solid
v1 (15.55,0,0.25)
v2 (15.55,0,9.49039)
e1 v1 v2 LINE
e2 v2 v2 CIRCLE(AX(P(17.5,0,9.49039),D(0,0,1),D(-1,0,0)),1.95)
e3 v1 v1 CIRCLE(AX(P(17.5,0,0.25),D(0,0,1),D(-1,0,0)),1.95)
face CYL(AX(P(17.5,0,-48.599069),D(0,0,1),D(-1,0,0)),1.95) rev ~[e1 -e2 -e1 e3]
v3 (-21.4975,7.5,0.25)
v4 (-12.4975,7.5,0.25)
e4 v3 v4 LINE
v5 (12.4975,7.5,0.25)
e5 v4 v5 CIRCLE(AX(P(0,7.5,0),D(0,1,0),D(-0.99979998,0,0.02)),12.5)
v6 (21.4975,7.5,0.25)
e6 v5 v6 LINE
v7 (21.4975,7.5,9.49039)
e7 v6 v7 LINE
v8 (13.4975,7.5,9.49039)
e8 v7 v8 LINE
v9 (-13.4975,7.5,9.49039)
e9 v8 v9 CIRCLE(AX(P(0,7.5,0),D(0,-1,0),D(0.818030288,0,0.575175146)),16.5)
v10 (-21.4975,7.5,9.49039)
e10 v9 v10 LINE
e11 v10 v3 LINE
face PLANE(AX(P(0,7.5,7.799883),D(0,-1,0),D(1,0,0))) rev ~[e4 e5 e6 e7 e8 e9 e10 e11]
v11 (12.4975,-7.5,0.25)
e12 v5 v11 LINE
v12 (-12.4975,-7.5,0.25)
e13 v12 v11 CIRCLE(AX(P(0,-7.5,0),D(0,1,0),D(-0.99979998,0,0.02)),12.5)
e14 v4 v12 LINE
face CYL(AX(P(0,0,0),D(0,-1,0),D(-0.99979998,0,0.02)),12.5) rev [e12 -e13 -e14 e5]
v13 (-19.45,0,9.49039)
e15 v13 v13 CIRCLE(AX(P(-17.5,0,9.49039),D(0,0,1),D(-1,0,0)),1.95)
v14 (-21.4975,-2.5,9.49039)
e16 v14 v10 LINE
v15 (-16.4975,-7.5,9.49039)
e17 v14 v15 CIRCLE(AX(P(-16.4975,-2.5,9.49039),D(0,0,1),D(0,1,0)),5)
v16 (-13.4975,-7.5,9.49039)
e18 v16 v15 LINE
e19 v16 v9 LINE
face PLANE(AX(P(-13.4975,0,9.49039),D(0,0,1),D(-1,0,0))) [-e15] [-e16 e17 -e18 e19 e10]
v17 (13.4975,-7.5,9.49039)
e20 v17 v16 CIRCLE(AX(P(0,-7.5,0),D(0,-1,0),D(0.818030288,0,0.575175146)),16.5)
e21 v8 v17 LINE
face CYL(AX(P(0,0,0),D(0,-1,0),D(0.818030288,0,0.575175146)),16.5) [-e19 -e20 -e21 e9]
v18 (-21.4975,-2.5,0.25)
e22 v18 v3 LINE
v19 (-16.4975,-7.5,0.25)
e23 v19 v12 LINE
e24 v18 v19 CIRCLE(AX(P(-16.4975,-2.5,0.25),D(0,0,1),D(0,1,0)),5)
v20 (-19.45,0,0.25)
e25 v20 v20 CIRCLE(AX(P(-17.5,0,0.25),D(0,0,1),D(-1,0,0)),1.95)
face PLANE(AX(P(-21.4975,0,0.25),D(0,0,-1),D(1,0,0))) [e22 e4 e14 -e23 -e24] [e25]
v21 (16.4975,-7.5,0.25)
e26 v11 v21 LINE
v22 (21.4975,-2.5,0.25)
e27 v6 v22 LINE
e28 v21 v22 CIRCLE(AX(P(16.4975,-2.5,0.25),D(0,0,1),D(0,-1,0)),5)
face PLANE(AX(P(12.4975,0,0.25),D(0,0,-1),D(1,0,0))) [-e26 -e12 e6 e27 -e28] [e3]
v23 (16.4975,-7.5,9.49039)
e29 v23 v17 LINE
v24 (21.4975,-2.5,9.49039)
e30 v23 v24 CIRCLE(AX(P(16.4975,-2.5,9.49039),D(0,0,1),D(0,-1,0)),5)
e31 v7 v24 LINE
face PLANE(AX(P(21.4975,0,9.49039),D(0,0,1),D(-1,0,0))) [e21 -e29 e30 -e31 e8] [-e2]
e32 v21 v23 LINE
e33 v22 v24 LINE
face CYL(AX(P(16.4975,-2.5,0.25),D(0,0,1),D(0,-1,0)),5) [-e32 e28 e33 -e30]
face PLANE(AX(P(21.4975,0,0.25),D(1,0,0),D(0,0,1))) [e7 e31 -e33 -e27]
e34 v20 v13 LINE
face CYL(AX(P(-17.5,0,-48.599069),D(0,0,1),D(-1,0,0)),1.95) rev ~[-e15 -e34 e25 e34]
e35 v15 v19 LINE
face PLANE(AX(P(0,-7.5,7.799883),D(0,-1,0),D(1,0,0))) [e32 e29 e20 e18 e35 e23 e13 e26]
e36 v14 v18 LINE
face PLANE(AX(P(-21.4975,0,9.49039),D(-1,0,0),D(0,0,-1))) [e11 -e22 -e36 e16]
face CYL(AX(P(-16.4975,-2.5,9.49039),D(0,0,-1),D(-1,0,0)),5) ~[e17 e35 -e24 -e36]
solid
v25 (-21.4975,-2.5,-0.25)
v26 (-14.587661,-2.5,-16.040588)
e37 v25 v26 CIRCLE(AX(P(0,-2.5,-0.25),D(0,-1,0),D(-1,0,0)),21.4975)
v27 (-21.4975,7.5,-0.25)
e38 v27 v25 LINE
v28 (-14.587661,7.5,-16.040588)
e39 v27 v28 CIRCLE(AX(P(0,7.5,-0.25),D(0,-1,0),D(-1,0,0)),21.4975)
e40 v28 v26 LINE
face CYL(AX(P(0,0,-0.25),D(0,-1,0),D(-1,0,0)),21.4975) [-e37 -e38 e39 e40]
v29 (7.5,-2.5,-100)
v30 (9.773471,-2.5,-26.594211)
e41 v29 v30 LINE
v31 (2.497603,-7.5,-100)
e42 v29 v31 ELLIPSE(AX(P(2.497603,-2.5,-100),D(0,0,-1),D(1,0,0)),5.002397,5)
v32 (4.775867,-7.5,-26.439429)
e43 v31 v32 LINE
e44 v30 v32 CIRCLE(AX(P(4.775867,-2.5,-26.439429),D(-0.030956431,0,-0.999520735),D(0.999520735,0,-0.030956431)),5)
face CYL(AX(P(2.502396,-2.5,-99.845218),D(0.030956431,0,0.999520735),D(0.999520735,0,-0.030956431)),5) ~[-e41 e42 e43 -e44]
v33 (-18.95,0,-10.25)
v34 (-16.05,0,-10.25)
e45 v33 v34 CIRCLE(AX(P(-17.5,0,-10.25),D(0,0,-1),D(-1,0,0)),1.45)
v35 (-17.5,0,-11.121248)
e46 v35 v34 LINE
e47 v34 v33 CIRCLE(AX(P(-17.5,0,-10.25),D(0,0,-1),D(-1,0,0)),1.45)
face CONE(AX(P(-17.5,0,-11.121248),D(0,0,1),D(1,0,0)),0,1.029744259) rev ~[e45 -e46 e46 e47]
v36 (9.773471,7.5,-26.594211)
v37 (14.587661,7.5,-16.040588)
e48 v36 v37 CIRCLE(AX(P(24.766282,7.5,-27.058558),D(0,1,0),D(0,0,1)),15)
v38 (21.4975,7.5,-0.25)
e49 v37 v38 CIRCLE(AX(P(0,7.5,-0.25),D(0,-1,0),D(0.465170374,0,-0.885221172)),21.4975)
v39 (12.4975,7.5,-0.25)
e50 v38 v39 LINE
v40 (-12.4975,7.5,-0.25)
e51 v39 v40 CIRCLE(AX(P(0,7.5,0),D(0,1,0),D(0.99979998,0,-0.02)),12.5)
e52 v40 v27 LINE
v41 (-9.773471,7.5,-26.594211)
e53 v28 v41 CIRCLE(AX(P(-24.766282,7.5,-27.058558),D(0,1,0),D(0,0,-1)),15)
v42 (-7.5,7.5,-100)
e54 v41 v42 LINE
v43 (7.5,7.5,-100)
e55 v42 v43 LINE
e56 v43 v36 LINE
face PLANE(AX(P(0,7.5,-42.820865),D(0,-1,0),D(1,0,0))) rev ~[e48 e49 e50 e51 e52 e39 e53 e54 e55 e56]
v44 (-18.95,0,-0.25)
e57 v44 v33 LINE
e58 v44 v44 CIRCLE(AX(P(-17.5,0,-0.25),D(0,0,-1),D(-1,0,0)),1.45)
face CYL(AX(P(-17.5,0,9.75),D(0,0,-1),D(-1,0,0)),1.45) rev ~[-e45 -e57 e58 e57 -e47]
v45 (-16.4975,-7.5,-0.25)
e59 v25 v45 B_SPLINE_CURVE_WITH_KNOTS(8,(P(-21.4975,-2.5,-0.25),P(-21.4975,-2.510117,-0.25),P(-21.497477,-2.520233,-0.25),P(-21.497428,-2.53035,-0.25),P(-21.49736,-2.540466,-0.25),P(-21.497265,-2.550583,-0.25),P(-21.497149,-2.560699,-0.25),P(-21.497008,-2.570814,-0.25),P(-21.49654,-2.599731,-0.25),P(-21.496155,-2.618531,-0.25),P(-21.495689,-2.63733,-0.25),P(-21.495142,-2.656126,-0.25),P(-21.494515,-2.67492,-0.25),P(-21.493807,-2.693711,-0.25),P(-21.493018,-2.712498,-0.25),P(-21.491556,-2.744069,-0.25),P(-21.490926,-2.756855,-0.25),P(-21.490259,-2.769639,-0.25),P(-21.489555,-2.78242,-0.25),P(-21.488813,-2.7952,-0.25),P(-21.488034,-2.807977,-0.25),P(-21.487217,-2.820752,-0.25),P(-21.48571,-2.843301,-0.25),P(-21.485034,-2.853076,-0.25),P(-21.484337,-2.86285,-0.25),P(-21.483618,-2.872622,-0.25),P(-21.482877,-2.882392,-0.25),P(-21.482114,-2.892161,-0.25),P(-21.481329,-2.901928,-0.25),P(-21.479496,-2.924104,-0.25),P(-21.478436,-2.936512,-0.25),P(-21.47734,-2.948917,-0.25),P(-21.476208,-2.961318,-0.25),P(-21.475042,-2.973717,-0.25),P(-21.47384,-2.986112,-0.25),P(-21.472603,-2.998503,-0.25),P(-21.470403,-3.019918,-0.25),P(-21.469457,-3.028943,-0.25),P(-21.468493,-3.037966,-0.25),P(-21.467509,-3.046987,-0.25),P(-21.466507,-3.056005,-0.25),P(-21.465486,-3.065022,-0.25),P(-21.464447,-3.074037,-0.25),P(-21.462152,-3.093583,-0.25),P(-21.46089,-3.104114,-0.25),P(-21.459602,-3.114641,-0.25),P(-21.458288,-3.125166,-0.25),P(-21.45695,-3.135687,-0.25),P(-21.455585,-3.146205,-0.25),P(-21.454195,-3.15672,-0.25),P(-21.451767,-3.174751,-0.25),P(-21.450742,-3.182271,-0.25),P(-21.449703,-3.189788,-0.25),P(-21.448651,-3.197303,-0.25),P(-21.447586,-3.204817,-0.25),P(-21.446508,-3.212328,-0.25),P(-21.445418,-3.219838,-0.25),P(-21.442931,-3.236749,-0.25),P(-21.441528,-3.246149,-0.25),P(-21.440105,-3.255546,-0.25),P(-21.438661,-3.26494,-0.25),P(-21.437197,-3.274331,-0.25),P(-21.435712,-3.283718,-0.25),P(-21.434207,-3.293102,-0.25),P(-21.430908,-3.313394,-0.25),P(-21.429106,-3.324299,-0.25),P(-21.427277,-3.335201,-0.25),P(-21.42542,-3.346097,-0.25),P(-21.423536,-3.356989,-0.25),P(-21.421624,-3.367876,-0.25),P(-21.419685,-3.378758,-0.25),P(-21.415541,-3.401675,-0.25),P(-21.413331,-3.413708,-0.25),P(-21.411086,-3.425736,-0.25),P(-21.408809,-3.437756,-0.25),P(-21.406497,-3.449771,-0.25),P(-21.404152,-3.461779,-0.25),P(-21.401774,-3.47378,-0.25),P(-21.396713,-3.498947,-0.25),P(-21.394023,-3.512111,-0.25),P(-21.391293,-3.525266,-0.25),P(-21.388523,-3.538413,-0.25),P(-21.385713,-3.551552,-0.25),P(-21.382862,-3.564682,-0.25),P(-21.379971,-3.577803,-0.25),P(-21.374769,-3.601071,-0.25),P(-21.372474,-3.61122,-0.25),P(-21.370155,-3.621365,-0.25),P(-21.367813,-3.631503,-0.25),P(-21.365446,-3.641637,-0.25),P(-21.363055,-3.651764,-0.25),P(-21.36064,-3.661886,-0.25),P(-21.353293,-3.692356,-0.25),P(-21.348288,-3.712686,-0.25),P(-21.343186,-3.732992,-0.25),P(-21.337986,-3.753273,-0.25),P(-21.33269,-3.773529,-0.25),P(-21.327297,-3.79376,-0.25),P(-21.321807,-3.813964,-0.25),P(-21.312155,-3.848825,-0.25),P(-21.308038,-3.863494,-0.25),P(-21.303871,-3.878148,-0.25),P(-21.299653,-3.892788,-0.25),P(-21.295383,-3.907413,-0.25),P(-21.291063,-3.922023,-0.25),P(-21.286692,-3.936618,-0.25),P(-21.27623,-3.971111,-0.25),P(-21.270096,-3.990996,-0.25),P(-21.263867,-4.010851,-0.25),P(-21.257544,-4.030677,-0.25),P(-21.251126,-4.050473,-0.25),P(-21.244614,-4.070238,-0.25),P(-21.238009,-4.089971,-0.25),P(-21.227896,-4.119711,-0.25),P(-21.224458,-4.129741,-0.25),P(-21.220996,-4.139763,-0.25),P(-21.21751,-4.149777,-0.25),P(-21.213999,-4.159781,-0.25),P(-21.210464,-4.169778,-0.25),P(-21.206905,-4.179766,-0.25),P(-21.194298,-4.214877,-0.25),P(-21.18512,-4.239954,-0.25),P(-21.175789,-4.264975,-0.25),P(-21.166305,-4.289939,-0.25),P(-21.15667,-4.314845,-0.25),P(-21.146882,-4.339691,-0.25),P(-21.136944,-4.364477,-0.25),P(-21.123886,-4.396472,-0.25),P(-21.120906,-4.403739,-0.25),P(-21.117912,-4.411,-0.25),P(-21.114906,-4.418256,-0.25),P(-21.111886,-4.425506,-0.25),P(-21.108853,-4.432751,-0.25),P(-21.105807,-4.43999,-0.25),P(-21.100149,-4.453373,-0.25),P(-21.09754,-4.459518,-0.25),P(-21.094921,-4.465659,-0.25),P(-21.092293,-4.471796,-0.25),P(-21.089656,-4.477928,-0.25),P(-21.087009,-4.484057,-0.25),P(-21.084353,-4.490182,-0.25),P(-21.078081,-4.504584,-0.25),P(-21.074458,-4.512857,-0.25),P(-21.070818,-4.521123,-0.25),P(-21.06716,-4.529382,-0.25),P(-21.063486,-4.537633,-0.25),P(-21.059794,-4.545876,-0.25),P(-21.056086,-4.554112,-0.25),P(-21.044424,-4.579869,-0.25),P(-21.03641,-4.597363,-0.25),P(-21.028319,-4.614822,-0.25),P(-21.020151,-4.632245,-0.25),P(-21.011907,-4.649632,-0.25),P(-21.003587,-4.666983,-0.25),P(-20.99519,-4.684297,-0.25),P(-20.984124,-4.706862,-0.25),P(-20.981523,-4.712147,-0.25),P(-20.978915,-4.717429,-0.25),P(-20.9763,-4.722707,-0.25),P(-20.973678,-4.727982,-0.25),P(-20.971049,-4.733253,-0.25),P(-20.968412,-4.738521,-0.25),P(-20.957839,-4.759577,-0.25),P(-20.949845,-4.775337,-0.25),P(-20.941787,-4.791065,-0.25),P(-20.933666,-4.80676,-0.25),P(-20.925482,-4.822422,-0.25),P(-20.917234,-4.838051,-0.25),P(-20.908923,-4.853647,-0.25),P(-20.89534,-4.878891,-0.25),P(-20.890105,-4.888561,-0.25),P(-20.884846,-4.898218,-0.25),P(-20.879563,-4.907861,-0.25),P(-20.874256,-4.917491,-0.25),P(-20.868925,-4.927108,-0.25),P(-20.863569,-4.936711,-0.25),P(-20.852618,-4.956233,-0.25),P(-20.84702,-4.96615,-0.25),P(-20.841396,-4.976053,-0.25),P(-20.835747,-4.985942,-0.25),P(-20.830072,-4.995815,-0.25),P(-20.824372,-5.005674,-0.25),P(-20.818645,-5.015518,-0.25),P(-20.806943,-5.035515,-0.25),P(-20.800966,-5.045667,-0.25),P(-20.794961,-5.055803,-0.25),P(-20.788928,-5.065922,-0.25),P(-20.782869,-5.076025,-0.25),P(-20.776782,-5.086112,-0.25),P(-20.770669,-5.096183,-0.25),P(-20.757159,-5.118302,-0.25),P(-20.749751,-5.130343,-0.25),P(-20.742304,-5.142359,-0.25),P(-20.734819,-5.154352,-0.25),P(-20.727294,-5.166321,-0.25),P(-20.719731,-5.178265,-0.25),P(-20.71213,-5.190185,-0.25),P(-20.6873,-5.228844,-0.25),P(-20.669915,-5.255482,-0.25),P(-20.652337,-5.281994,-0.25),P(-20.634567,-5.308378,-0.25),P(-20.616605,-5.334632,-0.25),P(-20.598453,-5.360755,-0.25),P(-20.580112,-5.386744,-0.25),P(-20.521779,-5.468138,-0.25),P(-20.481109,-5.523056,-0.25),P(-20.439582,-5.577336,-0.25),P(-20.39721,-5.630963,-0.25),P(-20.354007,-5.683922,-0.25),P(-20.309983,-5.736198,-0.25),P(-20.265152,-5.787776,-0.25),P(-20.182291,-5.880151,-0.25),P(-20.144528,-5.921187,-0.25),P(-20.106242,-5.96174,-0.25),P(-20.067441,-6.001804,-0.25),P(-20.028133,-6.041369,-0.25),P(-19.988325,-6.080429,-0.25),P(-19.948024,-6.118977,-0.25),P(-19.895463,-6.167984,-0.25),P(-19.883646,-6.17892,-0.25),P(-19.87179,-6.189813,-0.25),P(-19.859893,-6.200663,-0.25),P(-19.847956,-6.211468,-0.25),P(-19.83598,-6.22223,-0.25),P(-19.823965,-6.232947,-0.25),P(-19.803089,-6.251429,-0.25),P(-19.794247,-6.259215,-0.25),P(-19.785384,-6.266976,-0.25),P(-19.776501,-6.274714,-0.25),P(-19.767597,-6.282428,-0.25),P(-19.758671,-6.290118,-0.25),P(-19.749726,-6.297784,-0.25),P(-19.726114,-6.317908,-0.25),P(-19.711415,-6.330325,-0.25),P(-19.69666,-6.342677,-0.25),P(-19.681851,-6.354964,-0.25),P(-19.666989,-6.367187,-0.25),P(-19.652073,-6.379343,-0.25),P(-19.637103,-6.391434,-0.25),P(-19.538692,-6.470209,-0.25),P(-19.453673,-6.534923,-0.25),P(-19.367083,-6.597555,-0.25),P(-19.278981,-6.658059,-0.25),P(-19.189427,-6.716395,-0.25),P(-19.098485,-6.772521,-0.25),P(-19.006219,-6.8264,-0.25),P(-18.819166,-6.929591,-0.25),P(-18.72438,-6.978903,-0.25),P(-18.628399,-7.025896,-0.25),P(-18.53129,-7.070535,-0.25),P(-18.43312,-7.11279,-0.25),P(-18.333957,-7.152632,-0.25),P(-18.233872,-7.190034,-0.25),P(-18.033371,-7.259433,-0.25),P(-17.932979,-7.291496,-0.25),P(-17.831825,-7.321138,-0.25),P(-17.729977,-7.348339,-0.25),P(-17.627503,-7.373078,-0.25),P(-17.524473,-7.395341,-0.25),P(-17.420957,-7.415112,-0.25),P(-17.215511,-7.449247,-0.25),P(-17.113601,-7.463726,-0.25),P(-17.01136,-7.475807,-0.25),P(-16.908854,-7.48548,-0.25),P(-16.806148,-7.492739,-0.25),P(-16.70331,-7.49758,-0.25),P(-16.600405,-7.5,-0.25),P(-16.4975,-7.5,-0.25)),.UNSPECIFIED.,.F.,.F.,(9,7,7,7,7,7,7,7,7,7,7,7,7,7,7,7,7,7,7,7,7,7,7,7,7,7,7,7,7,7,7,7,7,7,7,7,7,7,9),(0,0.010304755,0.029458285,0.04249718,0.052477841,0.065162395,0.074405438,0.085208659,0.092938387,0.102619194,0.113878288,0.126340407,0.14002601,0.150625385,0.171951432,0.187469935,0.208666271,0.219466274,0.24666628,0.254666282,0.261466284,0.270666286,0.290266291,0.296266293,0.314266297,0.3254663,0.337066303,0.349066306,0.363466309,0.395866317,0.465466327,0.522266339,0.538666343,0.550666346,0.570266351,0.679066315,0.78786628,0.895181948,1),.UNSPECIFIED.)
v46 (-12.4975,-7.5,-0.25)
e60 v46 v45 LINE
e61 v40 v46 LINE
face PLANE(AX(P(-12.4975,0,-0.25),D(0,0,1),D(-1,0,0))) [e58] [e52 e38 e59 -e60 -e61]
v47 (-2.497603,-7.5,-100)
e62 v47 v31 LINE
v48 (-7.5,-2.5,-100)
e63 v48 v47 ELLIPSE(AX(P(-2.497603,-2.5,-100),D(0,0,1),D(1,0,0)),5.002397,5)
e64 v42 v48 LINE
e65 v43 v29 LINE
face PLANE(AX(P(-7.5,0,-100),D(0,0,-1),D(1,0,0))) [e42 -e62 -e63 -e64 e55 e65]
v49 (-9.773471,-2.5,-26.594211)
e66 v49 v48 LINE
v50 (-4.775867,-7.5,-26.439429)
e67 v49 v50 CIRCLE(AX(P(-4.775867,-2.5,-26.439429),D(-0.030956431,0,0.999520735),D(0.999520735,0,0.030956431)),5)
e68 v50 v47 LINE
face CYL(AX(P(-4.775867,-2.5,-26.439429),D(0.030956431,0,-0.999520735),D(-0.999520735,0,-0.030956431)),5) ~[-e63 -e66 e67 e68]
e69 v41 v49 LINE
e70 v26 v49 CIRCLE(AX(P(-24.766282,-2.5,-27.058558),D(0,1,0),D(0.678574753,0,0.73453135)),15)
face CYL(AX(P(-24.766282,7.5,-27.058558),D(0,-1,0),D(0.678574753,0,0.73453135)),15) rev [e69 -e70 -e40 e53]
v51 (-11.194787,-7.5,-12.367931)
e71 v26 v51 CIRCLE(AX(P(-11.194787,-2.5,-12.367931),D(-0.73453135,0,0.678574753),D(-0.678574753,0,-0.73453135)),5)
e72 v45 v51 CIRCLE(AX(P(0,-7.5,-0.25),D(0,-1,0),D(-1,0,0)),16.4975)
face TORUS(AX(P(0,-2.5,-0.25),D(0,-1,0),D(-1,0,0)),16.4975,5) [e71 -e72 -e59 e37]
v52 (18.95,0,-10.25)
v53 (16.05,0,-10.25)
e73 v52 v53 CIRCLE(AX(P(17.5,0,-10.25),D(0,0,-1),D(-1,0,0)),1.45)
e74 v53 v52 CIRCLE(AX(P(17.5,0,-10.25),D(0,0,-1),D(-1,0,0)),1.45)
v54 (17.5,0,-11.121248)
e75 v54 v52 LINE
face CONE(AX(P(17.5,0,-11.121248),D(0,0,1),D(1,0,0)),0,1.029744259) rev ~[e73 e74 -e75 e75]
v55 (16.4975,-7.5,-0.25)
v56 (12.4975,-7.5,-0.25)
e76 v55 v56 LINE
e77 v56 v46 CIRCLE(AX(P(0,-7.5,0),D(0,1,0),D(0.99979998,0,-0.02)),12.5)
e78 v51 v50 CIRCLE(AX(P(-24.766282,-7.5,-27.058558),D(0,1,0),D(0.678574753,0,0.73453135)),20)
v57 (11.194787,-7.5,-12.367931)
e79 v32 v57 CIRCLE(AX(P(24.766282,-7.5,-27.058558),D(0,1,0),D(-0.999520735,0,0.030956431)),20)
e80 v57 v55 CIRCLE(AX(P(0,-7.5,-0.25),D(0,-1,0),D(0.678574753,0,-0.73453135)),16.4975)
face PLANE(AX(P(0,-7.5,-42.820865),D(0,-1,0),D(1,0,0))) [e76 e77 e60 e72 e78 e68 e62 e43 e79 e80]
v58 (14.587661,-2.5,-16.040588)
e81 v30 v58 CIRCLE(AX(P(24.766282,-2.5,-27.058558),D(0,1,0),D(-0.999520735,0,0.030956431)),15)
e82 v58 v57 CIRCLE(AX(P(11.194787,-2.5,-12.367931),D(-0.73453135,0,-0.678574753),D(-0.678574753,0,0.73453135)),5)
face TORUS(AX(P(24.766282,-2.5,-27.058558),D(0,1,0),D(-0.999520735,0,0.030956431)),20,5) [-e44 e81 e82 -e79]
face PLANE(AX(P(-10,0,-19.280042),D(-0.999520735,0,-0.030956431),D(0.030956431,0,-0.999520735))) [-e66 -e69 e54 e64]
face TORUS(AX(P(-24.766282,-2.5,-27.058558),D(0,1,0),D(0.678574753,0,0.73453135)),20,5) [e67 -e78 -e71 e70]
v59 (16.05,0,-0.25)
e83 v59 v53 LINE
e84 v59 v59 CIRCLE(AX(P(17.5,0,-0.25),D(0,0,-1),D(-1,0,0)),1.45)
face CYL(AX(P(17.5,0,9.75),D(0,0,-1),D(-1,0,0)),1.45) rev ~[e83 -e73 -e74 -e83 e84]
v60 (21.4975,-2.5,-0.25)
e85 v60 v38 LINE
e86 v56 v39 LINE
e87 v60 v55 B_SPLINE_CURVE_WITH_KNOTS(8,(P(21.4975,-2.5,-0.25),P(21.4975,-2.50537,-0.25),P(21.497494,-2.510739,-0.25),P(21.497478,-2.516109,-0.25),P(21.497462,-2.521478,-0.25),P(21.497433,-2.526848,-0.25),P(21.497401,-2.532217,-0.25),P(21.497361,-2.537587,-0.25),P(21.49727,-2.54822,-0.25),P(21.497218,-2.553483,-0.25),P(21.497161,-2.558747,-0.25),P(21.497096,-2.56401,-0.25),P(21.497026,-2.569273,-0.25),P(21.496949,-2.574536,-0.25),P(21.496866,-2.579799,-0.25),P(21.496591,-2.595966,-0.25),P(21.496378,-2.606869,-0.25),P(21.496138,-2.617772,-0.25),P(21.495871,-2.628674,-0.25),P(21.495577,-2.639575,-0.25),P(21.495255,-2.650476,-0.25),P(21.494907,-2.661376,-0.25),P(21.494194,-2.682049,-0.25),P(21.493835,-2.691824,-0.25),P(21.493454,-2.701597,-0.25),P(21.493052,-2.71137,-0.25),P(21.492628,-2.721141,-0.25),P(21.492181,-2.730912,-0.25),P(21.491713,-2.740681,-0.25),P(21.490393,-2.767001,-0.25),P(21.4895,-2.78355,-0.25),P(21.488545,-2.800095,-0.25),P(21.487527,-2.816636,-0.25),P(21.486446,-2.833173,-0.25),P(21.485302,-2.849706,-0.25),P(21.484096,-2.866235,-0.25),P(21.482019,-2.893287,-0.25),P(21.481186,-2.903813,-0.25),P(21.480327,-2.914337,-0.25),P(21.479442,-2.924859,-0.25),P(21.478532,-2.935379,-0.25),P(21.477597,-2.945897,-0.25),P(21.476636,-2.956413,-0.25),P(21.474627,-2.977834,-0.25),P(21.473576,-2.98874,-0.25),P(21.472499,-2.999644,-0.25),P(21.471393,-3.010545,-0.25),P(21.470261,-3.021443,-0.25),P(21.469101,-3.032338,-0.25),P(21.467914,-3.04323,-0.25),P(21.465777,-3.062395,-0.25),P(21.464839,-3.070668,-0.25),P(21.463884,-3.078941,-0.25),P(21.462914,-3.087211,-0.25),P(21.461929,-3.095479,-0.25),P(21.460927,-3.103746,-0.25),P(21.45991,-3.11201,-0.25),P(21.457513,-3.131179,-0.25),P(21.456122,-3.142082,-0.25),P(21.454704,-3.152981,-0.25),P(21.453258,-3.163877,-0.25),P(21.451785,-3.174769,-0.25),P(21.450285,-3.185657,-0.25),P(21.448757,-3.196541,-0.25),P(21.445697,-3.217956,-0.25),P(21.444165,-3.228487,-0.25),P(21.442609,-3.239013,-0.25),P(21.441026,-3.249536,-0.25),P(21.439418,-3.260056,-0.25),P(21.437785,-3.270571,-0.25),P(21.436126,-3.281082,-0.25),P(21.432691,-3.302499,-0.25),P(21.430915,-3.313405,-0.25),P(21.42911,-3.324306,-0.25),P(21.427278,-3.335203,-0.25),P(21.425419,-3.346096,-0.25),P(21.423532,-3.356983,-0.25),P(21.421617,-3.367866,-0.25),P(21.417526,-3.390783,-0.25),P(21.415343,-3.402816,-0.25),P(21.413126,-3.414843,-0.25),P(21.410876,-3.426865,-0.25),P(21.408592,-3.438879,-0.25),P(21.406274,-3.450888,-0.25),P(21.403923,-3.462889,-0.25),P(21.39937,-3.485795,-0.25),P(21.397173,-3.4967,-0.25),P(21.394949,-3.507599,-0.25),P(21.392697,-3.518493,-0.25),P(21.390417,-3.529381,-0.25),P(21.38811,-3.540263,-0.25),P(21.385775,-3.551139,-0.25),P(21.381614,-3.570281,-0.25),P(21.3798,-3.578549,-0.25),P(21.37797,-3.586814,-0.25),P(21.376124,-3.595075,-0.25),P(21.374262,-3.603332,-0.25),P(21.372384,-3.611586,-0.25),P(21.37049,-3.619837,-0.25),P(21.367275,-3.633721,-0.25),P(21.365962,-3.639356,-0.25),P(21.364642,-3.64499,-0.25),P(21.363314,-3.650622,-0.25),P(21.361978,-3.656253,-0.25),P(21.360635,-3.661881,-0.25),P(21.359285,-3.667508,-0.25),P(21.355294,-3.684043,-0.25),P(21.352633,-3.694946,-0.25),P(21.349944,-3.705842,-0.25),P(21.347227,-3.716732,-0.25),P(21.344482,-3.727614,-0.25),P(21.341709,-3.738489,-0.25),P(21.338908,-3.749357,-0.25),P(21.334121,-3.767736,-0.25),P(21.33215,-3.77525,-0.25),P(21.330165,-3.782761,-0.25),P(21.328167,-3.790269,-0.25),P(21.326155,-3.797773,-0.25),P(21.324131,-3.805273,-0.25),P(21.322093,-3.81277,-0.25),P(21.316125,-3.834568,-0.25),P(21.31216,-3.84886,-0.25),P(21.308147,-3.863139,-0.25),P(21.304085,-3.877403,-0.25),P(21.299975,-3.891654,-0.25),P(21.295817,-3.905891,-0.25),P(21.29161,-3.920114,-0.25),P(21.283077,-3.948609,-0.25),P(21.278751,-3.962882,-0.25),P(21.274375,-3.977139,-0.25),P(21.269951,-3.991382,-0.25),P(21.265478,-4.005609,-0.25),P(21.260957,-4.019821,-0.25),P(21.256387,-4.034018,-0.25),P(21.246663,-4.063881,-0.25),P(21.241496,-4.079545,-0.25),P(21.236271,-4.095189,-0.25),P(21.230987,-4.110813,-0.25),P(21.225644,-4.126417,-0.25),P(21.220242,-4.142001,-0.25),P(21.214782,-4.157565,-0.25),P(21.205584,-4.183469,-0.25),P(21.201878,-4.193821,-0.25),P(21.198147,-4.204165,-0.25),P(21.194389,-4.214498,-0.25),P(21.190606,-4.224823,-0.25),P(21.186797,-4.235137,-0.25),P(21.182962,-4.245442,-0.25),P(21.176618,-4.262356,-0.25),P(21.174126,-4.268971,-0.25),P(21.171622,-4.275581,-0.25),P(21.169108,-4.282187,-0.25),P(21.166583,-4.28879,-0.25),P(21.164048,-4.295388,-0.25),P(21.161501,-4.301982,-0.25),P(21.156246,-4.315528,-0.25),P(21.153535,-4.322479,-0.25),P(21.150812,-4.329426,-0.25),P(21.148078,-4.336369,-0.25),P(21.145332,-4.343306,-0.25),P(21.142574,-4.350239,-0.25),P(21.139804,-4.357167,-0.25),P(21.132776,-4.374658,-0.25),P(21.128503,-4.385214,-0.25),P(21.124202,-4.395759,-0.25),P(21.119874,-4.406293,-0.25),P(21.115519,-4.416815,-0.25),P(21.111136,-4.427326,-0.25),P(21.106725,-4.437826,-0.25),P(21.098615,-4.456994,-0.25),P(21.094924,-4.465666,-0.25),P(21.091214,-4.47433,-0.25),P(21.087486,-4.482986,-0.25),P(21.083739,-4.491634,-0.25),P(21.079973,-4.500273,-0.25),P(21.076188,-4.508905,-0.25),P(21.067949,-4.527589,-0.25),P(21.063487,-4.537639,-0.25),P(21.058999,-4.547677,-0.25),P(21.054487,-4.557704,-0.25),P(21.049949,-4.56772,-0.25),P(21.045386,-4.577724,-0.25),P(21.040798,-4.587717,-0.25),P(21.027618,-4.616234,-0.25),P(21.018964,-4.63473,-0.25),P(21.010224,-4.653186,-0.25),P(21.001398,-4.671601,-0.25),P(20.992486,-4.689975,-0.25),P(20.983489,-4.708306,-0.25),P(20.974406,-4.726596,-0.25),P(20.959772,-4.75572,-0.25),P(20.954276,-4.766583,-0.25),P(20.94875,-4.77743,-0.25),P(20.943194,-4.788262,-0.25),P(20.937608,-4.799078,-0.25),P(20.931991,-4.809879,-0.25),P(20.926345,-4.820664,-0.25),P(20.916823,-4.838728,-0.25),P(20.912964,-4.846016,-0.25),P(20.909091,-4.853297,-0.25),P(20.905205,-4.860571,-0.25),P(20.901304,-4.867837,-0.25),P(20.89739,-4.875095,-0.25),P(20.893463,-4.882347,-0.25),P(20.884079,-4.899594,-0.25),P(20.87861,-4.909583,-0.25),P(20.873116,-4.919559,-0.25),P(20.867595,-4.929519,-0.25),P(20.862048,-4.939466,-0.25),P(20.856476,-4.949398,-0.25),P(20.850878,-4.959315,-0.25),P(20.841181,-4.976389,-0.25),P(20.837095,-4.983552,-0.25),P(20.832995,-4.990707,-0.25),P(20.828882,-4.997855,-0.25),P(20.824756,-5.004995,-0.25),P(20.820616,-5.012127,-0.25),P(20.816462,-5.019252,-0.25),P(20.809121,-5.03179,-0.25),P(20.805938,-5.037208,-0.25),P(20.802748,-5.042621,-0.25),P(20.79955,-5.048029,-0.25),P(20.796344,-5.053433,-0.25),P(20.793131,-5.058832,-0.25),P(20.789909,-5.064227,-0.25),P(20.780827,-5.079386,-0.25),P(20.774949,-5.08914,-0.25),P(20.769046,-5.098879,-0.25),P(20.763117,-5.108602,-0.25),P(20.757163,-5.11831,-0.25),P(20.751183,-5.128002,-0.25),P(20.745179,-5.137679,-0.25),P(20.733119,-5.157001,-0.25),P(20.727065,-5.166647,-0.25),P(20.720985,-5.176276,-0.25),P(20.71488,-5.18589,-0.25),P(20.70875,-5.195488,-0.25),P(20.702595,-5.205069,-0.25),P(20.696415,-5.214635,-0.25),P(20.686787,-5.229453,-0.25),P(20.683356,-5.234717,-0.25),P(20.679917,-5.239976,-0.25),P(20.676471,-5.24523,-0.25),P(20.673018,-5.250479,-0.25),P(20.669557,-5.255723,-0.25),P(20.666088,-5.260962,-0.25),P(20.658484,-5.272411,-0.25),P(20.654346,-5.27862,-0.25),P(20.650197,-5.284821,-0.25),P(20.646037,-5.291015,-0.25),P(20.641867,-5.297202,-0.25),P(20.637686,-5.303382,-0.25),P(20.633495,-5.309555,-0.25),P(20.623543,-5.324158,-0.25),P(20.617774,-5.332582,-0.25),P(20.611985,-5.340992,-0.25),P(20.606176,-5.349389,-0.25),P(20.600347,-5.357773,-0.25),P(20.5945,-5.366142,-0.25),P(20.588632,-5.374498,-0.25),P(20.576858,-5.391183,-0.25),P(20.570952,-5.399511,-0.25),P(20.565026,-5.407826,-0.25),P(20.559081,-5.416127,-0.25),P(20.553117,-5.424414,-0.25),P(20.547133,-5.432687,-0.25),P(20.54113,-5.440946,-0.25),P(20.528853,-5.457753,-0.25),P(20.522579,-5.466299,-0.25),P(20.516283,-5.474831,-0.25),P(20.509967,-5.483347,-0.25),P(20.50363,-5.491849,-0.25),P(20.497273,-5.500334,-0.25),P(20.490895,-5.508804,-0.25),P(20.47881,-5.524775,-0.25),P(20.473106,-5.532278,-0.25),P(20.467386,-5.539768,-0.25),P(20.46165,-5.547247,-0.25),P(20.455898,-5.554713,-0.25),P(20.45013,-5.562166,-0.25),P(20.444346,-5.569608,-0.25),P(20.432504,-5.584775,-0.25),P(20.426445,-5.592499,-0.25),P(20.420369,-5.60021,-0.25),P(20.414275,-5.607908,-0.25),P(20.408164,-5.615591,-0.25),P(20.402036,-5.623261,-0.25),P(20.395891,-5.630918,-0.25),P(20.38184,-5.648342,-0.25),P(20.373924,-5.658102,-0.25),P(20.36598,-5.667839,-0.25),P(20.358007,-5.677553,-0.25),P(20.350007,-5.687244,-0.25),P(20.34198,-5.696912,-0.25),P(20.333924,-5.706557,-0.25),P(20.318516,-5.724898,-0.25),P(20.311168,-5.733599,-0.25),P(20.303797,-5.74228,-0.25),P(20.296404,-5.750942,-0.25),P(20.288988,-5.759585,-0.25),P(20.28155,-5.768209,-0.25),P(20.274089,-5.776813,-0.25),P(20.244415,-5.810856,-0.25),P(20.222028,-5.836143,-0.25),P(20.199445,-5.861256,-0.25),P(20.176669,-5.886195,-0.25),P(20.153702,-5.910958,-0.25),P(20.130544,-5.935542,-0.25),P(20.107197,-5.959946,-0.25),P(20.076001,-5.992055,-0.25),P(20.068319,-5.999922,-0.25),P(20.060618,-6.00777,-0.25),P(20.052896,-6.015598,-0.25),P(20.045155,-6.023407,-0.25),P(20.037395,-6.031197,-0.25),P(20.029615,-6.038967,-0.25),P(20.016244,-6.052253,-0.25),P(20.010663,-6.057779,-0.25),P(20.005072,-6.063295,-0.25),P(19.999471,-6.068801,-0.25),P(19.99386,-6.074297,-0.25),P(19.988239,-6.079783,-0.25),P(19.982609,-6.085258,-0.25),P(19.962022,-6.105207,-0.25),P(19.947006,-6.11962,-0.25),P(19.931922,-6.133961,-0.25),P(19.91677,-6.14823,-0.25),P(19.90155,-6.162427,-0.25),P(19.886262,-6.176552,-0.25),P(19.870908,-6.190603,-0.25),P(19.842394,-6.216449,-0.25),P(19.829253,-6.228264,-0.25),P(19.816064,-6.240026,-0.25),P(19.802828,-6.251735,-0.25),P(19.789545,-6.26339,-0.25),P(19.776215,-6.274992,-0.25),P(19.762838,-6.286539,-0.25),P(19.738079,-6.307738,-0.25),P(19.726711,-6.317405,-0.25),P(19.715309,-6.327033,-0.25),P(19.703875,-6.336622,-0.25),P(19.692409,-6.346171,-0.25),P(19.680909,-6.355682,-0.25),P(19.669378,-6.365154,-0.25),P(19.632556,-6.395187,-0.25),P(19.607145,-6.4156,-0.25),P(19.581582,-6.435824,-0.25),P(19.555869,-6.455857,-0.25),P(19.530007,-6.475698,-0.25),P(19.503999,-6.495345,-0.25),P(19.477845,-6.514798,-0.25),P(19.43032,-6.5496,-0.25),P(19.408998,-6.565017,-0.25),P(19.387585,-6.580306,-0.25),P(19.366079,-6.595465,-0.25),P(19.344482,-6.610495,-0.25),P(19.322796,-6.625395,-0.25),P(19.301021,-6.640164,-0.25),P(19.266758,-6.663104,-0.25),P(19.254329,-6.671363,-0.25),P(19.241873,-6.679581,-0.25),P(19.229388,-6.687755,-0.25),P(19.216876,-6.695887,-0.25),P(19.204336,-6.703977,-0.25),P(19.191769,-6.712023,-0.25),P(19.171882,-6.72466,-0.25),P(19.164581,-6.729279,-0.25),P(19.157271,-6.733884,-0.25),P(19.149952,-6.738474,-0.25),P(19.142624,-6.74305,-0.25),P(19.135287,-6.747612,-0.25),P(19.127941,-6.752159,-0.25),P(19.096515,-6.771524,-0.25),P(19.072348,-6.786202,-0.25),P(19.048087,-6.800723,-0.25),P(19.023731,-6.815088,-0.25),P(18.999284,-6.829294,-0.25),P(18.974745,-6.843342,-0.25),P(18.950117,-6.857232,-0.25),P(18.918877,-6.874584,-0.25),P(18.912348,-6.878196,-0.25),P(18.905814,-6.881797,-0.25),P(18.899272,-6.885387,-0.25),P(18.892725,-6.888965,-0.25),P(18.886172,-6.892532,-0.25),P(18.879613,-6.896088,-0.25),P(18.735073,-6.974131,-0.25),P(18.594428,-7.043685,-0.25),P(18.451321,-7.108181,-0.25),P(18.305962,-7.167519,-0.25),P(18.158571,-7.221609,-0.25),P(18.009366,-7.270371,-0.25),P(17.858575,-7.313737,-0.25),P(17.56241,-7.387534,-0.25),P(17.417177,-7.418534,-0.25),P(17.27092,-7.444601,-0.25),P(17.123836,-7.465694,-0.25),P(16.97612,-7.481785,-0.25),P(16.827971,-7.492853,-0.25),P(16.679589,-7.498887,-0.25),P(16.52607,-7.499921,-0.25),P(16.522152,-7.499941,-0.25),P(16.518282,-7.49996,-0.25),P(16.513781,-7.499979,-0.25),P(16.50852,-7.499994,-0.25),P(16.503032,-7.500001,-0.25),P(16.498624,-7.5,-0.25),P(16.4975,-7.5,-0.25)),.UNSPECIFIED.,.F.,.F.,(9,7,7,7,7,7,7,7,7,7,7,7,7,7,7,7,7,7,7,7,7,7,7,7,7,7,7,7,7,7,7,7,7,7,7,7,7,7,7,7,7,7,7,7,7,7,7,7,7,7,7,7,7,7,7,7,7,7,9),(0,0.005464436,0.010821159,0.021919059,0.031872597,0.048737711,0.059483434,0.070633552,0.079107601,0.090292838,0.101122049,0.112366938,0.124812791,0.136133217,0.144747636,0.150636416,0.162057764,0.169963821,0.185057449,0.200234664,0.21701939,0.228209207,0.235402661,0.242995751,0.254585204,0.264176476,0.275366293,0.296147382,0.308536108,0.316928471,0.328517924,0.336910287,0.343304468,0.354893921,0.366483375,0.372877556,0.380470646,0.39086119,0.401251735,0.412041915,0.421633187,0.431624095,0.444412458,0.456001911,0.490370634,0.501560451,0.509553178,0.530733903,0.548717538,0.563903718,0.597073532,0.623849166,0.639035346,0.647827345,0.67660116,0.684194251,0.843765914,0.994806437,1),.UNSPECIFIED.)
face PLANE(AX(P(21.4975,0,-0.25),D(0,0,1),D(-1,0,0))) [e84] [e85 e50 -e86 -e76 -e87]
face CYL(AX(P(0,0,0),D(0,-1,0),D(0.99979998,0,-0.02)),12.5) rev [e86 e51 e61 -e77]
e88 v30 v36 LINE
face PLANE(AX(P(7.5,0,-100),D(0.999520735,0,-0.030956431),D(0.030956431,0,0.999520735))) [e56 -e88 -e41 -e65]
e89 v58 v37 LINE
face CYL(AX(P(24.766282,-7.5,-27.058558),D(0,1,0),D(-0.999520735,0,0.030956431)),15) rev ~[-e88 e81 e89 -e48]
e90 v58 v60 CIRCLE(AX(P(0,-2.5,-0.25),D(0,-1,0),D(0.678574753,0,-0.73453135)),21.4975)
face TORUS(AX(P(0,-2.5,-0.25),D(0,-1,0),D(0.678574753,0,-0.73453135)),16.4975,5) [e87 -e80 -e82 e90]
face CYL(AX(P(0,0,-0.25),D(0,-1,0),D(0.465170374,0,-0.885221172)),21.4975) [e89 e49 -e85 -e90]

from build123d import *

# Parameters (mm, degrees)
F1_DEPTH = 7.5
F3_D     = 2.9
F3_DEPTH = 10
F3_TIP   = 0.8712478976
F4_R     = 15
F5_R     = 5
F7_DEPTH = 7.5
F8_D     = 3.9
F9_R     = 5


with BuildPart() as f1:
    # F0 (on Front) → F1 (new body, symmetric)
    with BuildSketch(Plane.XZ):
        with BuildLine():
            ThreePointArc((12.4974997499, -0.25), (0, -12.5), (-12.4974997499, -0.25))
            Line((-12.4974997499, -0.25), (-21.4974997499, -0.25))
            ThreePointArc((-21.4974997499, -0.25), (-18.3999659374, -11.3668227925), (-10, -19.2800419206))
            Line((-10, -19.2800419206), (-7.5, -100))
            Line((-7.5, -100), (7.5, -100))
            Line((7.5, -100), (10, -19.2800419206))
            ThreePointArc((10, -19.2800419206), (18.3999659374, -11.3668227925), (21.4974997499, -0.25))
            Line((21.4974997499, -0.25), (12.4974997499, -0.25))
        make_face()
    extrude(amount=F1_DEPTH, both=True)

    # F3
    with Locations(Plane.XY.offset(-0.25)):
        with Locations((-17.5, 0), (17.5, 0)):
            Hole(F3_D / 2, depth=F3_DEPTH)
            with Locations((0, 0, -(F3_DEPTH + F3_TIP / 2))):  # 118° drill point
                Cone(0, F3_D / 2, F3_TIP, mode=Mode.SUBTRACT)

    # F4
    f4_edges = [f1.edges().sort_by_distance(p)[0] for p in [
        (-10, 0, -19.280042),
        (10, 0, -19.280042),
    ]]
    fillet(f4_edges, radius=F4_R)

    # F5
    f5_edges = [f1.edges().sort_by_distance(p)[0] for p in [
        (-8.636735, -7.5, -63.297106),
        (8.636735, -7.5, -63.297106),
    ]]
    fillet(f5_edges, radius=F5_R)


with BuildPart() as f7:
    # F6 (on Front) → F7 (new body, symmetric)
    with BuildSketch(Plane.XZ):
        with BuildLine():
            Line((-21.4974997499, 0.25), (-12.4974997499, 0.25))
            ThreePointArc((-12.4974997499, 0.25), (0, 12.5), (12.4974997499, 0.25))
            Line((12.4974997499, 0.25), (21.4974997499, 0.25))
            Line((21.4974997499, 0.25), (21.4974997499, 9.4903899024))
            Line((21.4974997499, 9.4903899024), (13.4974997499, 9.4903899024))
            ThreePointArc((13.4974997499, 9.4903899024), (0, 16.5), (-13.4974997499, 9.4903899024))
            Line((-13.4974997499, 9.4903899024), (-21.4974997499, 9.4903899024))
            Line((-21.4974997499, 9.4903899024), (-21.4974997499, 0.25))
        make_face()
    extrude(amount=F7_DEPTH, both=True)

    # F8 (through all)
    with Locations(Plane(origin=(0, 0, -0.25), x_dir=(1, 0, 0), z_dir=(0, 0, -1))):
        with Locations((-17.5, 0), (17.5, 0)):
            Hole(F8_D / 2)

    # F9
    f9_edges = [f7.edges().sort_by_distance(p)[0] for p in [
        (-21.4975, -7.5, 4.870195),
        (21.4975, -7.5, 4.870195),
    ]]
    fillet(f9_edges, radius=F9_R)


solid = Compound([f1.part, f7.part])
